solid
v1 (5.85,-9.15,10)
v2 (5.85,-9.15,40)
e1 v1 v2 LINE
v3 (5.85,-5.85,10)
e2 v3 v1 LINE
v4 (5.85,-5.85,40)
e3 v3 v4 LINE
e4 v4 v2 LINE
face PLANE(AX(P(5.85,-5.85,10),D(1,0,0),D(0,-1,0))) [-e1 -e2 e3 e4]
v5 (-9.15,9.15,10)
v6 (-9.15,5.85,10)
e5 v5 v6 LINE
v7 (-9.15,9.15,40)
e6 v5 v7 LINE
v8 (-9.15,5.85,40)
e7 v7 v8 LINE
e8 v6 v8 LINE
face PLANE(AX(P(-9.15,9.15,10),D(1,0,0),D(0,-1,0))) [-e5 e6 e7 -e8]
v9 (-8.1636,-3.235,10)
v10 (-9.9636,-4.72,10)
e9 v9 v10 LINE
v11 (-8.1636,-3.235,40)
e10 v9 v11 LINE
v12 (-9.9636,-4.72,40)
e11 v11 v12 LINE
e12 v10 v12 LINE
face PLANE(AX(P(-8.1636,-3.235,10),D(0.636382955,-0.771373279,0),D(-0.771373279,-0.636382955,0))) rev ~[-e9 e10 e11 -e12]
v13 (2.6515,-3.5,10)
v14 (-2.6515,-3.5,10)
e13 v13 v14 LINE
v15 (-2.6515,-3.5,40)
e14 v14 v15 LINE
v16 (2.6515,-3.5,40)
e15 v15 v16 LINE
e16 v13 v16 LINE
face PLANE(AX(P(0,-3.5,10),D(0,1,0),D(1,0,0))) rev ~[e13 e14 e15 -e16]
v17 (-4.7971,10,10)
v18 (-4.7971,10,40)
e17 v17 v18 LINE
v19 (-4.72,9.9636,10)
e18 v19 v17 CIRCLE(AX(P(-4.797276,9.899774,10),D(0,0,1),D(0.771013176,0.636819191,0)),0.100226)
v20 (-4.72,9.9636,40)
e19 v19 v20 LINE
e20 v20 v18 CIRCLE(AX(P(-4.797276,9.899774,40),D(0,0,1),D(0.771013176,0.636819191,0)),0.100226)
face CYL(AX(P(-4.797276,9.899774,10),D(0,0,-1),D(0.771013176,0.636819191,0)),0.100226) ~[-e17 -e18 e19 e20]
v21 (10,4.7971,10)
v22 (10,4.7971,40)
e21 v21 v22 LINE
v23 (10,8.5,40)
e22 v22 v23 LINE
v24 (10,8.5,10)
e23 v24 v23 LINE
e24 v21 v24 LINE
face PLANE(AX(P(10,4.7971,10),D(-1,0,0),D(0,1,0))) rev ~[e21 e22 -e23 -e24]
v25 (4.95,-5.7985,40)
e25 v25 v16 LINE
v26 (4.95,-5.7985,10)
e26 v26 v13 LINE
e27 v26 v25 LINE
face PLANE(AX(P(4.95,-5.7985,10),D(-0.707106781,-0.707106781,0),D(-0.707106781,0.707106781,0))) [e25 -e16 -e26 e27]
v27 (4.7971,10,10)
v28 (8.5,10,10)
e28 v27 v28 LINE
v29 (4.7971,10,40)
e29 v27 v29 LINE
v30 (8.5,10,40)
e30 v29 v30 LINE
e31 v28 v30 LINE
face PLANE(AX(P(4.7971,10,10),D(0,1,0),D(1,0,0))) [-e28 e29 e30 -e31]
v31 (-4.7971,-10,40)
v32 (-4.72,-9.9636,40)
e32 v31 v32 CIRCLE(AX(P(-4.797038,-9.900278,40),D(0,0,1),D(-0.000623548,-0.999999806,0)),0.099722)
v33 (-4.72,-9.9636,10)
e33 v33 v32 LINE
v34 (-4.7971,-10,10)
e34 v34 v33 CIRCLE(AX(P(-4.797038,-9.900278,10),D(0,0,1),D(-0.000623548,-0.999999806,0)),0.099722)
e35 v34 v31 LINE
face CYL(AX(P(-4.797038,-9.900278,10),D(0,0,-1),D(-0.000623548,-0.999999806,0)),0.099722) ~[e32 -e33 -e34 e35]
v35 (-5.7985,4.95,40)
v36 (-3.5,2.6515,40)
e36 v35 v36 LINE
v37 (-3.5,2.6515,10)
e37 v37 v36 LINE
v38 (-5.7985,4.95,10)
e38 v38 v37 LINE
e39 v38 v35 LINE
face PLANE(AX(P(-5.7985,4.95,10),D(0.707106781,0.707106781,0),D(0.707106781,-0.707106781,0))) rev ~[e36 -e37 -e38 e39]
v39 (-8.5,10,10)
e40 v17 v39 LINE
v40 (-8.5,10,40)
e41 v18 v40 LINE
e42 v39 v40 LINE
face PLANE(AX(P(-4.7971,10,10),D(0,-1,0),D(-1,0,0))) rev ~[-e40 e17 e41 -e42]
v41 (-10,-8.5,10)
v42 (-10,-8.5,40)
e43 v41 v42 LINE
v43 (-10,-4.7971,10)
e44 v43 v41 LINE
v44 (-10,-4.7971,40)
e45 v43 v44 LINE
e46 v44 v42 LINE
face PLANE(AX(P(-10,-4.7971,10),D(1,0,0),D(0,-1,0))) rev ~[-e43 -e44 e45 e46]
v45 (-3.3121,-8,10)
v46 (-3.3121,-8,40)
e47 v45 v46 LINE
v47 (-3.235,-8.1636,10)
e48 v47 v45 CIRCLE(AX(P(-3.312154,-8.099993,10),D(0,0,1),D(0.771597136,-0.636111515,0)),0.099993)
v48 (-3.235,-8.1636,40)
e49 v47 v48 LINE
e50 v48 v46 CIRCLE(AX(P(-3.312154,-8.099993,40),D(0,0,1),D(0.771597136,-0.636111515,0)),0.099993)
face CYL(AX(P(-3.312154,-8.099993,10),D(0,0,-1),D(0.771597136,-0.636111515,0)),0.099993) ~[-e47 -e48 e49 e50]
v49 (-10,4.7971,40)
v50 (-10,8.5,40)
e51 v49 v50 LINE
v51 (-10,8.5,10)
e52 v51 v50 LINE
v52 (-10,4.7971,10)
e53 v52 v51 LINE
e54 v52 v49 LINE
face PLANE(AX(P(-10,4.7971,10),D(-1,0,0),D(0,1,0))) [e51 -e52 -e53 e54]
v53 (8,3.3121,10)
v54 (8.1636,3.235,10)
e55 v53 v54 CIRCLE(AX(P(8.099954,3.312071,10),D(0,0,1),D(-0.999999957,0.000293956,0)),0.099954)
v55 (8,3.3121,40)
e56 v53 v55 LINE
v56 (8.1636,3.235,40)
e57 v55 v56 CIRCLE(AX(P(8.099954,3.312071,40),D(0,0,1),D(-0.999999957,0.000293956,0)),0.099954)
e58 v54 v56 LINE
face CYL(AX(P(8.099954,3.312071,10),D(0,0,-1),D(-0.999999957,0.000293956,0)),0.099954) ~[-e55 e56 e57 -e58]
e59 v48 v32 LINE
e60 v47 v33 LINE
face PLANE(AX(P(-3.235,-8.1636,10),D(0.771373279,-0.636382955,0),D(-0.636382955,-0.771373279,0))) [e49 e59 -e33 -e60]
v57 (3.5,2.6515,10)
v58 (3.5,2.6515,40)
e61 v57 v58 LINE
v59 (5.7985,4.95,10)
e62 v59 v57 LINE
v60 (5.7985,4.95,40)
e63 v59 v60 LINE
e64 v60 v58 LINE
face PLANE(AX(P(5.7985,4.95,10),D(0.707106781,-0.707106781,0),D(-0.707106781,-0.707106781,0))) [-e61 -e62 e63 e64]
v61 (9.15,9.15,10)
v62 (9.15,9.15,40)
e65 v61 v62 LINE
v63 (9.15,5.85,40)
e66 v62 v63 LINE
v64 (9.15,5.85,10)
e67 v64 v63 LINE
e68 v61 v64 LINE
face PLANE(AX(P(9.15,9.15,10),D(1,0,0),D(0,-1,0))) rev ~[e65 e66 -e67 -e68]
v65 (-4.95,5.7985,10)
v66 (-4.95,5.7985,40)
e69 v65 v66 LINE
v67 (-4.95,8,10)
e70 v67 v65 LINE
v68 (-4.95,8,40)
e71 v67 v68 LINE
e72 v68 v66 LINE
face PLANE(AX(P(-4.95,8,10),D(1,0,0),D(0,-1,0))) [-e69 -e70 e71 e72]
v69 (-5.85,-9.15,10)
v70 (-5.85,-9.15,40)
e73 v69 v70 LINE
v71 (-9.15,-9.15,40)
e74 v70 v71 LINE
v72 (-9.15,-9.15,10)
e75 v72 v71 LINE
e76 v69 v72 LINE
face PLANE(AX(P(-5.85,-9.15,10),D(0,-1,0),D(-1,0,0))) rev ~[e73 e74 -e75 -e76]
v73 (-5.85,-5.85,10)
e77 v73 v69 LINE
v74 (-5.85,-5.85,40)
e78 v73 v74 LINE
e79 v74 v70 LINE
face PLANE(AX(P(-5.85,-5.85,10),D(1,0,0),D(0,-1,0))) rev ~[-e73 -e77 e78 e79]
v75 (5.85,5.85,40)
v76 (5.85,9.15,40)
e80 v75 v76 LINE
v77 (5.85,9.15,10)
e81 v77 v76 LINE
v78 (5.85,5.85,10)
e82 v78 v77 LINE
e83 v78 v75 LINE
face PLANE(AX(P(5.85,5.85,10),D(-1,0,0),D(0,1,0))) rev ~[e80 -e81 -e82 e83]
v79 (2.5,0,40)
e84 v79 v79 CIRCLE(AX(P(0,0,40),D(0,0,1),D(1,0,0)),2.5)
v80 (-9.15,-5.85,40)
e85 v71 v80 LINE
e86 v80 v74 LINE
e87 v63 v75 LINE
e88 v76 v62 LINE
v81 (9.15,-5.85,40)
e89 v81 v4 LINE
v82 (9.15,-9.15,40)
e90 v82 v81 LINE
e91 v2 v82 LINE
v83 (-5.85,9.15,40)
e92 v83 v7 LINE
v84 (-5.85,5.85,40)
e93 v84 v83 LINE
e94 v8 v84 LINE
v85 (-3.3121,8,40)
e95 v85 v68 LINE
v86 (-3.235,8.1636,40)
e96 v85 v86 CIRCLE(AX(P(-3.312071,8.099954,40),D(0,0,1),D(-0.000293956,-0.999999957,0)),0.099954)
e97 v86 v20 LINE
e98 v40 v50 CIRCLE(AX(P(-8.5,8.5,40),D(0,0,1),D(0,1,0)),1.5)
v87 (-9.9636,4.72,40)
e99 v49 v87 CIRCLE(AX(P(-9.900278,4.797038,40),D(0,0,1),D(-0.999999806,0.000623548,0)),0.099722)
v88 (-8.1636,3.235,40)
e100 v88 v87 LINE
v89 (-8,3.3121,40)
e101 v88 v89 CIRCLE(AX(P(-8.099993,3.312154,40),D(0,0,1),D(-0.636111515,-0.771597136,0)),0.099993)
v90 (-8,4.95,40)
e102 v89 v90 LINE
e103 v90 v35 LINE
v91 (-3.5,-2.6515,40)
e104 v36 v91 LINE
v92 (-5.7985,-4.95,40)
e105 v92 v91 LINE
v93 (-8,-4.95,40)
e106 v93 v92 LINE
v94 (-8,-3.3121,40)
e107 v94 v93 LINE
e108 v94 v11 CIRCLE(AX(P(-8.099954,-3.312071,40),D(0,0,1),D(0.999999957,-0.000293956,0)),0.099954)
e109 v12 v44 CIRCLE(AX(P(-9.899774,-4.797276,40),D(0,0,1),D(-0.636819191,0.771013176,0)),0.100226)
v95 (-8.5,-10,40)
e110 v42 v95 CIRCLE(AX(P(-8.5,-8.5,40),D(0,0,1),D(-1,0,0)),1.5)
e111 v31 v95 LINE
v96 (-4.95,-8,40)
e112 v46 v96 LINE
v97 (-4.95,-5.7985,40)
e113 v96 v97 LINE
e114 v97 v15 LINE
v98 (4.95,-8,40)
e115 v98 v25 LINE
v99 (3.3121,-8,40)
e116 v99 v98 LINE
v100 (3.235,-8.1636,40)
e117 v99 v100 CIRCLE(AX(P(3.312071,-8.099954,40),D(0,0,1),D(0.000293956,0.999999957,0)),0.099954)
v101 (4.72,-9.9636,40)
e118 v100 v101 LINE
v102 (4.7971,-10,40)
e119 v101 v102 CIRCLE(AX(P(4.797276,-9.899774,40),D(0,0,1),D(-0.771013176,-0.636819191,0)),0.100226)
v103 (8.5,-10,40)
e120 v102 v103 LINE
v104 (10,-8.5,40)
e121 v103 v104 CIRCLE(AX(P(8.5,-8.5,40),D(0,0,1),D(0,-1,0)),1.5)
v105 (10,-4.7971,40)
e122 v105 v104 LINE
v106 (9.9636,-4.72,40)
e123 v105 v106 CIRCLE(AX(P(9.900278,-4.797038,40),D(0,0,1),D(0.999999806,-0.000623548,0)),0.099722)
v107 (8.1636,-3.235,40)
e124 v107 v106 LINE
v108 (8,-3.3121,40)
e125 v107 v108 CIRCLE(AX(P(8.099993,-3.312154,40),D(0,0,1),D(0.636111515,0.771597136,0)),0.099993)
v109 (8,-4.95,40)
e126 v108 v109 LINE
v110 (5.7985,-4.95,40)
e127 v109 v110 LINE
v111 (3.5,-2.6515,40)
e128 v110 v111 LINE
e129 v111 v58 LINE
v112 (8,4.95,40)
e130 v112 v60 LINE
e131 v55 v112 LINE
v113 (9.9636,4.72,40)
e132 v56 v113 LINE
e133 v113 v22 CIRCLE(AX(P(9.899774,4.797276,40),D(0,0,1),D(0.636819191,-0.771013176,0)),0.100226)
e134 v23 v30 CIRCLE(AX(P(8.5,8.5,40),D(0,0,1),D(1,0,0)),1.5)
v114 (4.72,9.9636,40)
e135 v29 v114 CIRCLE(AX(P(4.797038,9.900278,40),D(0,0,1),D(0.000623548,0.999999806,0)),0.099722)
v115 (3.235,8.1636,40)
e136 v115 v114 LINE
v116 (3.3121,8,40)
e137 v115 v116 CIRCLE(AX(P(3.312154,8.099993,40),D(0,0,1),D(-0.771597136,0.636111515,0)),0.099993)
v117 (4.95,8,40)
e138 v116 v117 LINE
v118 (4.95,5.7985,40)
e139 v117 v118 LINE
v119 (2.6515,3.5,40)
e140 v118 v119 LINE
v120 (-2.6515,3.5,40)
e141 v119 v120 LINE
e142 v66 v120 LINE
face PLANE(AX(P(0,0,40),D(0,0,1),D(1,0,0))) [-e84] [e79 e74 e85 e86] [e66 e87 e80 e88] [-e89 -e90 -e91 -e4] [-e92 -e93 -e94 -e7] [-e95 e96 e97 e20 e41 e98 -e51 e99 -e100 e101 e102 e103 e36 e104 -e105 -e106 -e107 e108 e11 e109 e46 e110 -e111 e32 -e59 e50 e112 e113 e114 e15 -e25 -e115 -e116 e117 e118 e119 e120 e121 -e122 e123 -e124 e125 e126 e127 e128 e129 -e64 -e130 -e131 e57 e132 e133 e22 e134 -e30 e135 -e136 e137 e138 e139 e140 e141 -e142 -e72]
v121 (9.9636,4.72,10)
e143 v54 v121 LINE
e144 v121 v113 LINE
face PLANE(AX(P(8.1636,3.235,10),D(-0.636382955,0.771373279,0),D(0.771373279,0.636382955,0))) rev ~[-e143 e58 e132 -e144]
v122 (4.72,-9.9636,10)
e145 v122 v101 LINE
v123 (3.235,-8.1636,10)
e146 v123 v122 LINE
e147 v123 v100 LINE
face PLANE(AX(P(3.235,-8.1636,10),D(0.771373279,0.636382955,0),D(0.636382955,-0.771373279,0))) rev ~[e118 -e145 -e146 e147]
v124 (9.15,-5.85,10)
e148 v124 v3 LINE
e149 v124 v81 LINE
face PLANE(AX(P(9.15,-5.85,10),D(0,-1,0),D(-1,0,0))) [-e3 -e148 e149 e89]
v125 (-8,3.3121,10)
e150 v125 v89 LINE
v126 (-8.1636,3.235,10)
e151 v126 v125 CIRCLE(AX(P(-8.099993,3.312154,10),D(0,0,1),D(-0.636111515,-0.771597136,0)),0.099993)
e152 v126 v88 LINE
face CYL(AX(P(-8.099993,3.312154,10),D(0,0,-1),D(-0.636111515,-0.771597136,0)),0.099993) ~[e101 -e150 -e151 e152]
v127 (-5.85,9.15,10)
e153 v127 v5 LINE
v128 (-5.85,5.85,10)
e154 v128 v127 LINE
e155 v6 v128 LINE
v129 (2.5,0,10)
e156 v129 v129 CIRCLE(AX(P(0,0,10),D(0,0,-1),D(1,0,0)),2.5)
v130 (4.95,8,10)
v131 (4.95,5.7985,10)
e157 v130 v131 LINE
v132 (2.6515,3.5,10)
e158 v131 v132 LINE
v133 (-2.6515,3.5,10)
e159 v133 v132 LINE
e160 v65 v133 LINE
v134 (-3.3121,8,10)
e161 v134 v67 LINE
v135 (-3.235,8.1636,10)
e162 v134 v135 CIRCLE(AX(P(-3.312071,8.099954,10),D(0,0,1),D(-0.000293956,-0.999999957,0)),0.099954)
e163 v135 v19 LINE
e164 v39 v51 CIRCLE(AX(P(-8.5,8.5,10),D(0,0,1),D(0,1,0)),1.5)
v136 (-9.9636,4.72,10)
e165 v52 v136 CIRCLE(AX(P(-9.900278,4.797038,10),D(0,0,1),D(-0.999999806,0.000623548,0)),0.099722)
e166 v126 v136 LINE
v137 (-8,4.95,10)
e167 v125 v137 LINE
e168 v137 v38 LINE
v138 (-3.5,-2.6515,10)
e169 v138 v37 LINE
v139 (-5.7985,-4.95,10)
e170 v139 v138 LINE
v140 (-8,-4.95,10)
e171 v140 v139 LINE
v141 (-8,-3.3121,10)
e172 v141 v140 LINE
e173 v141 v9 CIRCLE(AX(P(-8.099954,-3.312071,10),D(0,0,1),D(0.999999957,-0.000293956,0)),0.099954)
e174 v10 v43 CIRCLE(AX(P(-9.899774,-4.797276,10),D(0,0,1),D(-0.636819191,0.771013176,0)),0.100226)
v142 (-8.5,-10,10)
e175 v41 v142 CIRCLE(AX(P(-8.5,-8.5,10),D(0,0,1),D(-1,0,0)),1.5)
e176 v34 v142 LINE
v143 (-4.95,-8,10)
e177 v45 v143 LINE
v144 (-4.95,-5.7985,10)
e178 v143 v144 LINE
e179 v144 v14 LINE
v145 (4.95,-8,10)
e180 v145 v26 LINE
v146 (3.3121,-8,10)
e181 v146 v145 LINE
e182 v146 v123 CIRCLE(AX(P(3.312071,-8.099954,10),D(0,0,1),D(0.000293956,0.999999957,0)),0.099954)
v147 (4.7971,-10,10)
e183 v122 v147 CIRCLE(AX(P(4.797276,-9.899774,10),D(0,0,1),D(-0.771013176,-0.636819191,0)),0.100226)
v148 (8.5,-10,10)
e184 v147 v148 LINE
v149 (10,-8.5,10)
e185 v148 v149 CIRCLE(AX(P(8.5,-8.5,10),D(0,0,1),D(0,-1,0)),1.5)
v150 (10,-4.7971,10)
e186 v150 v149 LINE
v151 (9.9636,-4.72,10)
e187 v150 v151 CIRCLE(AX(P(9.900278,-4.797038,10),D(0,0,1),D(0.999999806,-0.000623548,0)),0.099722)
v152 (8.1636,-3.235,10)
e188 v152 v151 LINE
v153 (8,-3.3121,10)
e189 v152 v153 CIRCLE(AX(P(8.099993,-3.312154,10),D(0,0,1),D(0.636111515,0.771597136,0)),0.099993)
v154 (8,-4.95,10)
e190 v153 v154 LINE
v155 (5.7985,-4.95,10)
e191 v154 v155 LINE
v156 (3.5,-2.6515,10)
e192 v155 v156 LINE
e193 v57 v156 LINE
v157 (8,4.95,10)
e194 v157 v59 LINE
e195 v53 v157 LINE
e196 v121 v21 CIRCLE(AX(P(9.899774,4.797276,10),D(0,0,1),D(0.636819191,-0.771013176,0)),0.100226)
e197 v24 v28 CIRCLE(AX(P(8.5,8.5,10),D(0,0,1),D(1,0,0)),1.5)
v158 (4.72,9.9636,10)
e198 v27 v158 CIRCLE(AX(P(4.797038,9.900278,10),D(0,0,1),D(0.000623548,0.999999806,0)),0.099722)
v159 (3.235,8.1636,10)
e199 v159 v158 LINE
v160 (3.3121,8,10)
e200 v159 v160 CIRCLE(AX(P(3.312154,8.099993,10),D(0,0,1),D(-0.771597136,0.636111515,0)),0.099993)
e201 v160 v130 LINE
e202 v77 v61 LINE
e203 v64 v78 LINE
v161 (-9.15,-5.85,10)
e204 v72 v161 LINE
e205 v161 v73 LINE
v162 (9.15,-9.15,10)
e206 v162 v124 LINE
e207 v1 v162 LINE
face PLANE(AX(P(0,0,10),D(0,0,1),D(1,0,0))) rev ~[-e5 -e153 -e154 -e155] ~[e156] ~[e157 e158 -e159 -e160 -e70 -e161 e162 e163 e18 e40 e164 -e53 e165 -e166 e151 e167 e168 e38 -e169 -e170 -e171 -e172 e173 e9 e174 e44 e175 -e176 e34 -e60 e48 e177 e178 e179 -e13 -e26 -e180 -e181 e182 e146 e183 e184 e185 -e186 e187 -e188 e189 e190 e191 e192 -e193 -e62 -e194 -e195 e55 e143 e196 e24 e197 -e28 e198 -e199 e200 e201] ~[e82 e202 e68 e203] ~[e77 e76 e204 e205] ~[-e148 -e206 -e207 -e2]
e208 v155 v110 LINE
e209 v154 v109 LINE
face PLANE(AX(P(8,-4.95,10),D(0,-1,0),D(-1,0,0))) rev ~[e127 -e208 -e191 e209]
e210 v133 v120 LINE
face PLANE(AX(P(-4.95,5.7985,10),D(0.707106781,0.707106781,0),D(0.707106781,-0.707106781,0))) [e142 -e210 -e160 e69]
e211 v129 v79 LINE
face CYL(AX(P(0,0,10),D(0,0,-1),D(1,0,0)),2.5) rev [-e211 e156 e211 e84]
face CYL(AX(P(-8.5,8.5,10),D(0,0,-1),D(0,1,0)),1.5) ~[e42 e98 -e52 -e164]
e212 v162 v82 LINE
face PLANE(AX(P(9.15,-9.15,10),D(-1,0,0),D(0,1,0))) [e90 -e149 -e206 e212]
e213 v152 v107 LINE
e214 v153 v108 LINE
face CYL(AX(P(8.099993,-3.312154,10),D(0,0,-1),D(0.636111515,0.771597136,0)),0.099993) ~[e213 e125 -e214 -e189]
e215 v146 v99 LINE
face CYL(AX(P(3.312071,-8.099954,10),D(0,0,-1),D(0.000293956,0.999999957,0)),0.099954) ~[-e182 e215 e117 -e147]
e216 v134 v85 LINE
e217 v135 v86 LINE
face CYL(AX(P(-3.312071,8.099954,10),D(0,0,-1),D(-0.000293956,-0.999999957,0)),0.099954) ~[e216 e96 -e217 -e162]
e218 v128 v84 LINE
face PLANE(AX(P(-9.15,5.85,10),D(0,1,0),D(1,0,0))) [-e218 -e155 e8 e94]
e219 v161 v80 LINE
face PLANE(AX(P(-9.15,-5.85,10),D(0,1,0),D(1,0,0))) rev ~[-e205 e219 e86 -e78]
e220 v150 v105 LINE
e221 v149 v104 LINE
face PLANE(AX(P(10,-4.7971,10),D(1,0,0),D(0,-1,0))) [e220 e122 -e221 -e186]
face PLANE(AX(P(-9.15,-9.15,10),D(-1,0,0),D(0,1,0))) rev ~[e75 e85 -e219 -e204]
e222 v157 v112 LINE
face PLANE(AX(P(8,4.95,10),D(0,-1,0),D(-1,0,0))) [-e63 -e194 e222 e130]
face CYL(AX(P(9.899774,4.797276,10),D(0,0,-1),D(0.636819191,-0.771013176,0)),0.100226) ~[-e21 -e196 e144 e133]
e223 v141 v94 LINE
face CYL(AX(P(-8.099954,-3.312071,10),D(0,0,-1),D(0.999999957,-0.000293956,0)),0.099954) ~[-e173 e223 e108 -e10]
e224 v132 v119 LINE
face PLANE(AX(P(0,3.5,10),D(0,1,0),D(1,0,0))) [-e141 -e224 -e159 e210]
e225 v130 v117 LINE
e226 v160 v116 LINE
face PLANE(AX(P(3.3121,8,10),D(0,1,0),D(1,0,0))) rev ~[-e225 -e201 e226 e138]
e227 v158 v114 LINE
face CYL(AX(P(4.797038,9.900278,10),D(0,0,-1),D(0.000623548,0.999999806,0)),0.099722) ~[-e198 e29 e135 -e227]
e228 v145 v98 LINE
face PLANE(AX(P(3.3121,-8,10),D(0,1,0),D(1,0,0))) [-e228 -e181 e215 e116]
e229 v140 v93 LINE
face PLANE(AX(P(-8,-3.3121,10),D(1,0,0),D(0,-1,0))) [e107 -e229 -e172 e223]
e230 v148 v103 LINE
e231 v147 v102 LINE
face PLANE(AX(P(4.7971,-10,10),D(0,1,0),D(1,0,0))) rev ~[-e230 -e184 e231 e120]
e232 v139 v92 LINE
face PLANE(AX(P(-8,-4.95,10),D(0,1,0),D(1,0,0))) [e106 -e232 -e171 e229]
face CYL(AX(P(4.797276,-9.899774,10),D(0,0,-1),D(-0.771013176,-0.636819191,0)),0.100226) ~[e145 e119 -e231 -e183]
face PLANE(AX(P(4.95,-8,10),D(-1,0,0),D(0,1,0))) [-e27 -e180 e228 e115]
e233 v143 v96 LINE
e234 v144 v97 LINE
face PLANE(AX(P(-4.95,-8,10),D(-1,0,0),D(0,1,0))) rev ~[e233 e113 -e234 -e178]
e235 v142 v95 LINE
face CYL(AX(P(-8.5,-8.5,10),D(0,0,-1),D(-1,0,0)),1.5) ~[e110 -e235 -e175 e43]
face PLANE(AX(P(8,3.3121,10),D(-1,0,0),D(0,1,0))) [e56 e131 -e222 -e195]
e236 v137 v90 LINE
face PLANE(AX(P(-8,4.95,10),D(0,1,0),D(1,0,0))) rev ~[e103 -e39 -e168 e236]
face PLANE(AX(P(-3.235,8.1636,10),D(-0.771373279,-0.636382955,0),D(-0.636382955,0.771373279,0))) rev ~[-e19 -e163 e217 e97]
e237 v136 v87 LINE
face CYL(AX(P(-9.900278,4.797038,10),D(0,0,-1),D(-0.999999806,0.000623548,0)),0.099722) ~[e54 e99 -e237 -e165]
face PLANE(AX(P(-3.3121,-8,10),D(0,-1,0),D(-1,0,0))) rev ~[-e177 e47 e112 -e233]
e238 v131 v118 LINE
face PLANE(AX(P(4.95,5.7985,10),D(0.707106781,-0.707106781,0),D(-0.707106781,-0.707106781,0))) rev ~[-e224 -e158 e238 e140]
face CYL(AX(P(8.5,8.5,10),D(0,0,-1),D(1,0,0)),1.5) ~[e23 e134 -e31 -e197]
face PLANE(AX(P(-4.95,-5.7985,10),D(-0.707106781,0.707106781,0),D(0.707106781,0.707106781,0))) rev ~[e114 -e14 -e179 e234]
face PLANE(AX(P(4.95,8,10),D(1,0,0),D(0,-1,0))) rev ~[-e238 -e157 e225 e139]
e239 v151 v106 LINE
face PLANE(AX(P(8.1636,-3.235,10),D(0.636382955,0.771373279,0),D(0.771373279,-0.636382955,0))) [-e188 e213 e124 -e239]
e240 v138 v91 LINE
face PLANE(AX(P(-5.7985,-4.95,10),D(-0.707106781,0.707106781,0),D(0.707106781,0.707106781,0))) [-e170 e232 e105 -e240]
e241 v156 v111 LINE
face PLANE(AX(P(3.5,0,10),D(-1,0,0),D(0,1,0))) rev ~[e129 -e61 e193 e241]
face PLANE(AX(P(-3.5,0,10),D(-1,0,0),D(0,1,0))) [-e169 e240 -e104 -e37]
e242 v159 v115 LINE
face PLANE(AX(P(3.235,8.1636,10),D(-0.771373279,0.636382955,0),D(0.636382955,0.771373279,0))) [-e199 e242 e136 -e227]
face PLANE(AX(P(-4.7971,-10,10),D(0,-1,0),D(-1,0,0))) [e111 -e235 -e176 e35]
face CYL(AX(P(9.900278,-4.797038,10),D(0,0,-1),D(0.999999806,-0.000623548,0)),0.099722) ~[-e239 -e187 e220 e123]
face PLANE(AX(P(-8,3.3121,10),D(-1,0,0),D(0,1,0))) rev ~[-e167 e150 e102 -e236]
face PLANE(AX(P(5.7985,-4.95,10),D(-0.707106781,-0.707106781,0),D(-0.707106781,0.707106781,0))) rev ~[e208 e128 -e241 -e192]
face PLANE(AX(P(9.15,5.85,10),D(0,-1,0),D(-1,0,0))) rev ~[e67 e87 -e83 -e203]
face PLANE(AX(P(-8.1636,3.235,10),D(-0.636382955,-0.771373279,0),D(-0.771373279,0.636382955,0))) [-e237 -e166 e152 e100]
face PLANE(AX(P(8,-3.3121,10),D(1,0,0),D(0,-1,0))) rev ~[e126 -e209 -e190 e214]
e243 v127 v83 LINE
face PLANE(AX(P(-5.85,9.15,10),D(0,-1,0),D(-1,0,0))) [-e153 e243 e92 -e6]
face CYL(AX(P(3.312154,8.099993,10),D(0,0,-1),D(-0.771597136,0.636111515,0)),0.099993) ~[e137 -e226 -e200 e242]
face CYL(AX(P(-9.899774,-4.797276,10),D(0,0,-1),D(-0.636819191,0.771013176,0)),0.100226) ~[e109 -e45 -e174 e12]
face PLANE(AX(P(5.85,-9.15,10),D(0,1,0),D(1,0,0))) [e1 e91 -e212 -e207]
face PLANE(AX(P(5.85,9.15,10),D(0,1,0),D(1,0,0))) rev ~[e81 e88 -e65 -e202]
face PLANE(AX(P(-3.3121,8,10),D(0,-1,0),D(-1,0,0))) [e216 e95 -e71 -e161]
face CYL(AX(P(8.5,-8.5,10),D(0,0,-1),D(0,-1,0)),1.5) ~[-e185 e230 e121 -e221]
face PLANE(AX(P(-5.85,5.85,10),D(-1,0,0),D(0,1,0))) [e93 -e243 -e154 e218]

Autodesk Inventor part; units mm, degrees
ref_plane "Начальная плоскость" through (0, 0, 10) normal (0, 0, 1) x (1, 0, 0)
ref_plane "Конечная плоскость" through (0, 0, 40) normal (0, 0, 1) x (1, 0, 0)
sketch "Эскиз" plane through (0, 0, 0) normal (0, 0, 1) x (1, 0, 0)
  line L0 (-14.4349, 0) -> (14.4349, 0) projected
  line L1 (0, -14) -> (0, 14) projected
  line L2 (0, 0) -> (7.5, 7.5) construction
  circle A0 centre (7.5, 7.5) radius 1.65 construction
  line L3 (5.85, 9.15) -> (9.15, 9.15)
  line L4 (9.15, 9.15) -> (9.15, 5.85)
  line L5 (9.15, 5.85) -> (5.85, 5.85)
  line L6 (5.85, 5.85) -> (5.85, 9.15)
  line L7 (3.235, 8.1636) -> (4.72, 9.9636)
  line L8 (4.7971, 10) -> (8.5, 10)
  line L9 (3.3121, 8) -> (4.95, 8)
  line L10 (4.95, 8) -> (4.95, 5.7985)
  line L11 (4.95, 5.7985) -> (2.6515, 3.5)
  line L12 (0, 3.5) -> (2.6515, 3.5)
  circle A1 centre (0, 0) radius 2.5
  line L13 (8.1636, 3.235) -> (9.9636, 4.72)
  line L14 (10, 4.7971) -> (10, 8.5)
  line L15 (8, 3.3121) -> (8, 4.95)
  line L16 (8, 4.95) -> (5.7985, 4.95)
  line L17 (5.7985, 4.95) -> (3.5, 2.6515)
  line L18 (3.5, 0) -> (3.5, 2.6515)
  arc A2 (10, 8.5) -> (8.5, 10) centre (8.5, 8.5) ccw
  line L19 (0, 0) -> (-7.5, 7.5) construction
  circle A3 centre (-7.5, 7.5) radius 1.65 construction
  line L20 (-5.85, 9.15) -> (-9.15, 9.15)
  line L21 (-9.15, 9.15) -> (-9.15, 5.85)
  line L22 (-9.15, 5.85) -> (-5.85, 5.85)
  line L23 (-5.85, 5.85) -> (-5.85, 9.15)
  line L24 (-3.235, 8.1636) -> (-4.72, 9.9636)
  line L25 (-4.7971, 10) -> (-8.5, 10)
  line L26 (-3.3121, 8) -> (-4.95, 8)
  line L27 (-4.95, 8) -> (-4.95, 5.7985)
  line L28 (-4.95, 5.7985) -> (-2.6515, 3.5)
  line L29 (0, 3.5) -> (-2.6515, 3.5)
  line L30 (-3.5, 0) -> (-3.5, 2.6515)
  line L31 (-5.7985, 4.95) -> (-3.5, 2.6515)
  line L32 (-8, 4.95) -> (-5.7985, 4.95)
  line L33 (-8, 3.3121) -> (-8, 4.95)
  line L34 (-8.1636, 3.235) -> (-9.9636, 4.72)
  line L35 (-10, 4.7971) -> (-10, 8.5)
  arc A4 (-8.5, 10) -> (-10, 8.5) centre (-8.5, 8.5) ccw
  line L36 (0, 14) -> (0, -14)
  line L37 (0, 0) -> (7.5, -7.5) construction
  circle A5 centre (7.5, -7.5) radius 1.65 construction
  line L38 (5.85, -9.15) -> (9.15, -9.15)
  line L39 (9.15, -9.15) -> (9.15, -5.85)
  line L40 (9.15, -5.85) -> (5.85, -5.85)
  line L41 (5.85, -5.85) -> (5.85, -9.15)
  line L42 (3.235, -8.1636) -> (4.72, -9.9636)
  line L43 (4.7971, -10) -> (8.5, -10)
  line L44 (3.3121, -8) -> (4.95, -8)
  line L45 (4.95, -8) -> (4.95, -5.7985)
  line L46 (4.95, -5.7985) -> (2.6515, -3.5)
  line L47 (0, -3.5) -> (2.6515, -3.5)
  line L48 (3.5, 0) -> (3.5, -2.6515)
  line L49 (5.7985, -4.95) -> (3.5, -2.6515)
  line L50 (8, -4.95) -> (5.7985, -4.95)
  line L51 (8, -3.3121) -> (8, -4.95)
  line L52 (8.1636, -3.235) -> (9.9636, -4.72)
  line L53 (10, -4.7971) -> (10, -8.5)
  arc A6 (8.5, -10) -> (10, -8.5) centre (8.5, -8.5) ccw
  line L54 (0, 0) -> (-7.5, -7.5) construction
  line L55 (-4.95, -8) -> (-4.95, -5.7985)
  line L56 (-3.3121, -8) -> (-4.95, -8)
  line L57 (-5.7985, -4.95) -> (-3.5, -2.6515)
  line L58 (-4.95, -5.7985) -> (-2.6515, -3.5)
  line L59 (-3.5, 0) -> (-3.5, -2.6515)
  line L60 (0, -3.5) -> (-2.6515, -3.5)
  circle A7 centre (-7.5, -7.5) radius 1.65 construction
  line L61 (-5.85, -5.85) -> (-5.85, -9.15)
  line L62 (-5.85, -9.15) -> (-9.15, -9.15)
  line L63 (-9.15, -9.15) -> (-9.15, -5.85)
  line L64 (-9.15, -5.85) -> (-5.85, -5.85)
  line L65 (-3.235, -8.1636) -> (-4.72, -9.9636)
  line L66 (-8, -4.95) -> (-5.7985, -4.95)
  line L67 (-8, -3.3121) -> (-8, -4.95)
  line L68 (-8.1636, -3.235) -> (-9.9636, -4.72)
  line L69 (-4.7971, -10) -> (-8.5, -10)
  line L70 (-10, -4.7971) -> (-10, -8.5)
  arc A8 (-10, -8.5) -> (-8.5, -10) centre (-8.5, -8.5) ccw
  arc A9 (3.235, 8.1636) -> (3.3121, 8) centre (3.3121, 8.1) ccw
  arc A10 (4.7971, 10) -> (4.72, 9.9636) centre (4.7971, 9.9) ccw
  arc A11 (8, 3.3121) -> (8.1636, 3.235) centre (8.1, 3.3121) ccw
  arc A12 (9.9636, 4.72) -> (10, 4.7971) centre (9.9, 4.7971) ccw
  arc A13 (-3.3121, 8) -> (-3.235, 8.1636) centre (-3.3121, 8.1) ccw
  arc A14 (-4.72, 9.9636) -> (-4.7971, 10) centre (-4.7971, 9.9) ccw
  arc A15 (-8.1636, 3.235) -> (-8, 3.3121) centre (-8.1, 3.3121) ccw
  arc A16 (-10, 4.7971) -> (-9.9636, 4.72) centre (-9.9, 4.7971) ccw
  arc A17 (-8, -3.3121) -> (-8.1636, -3.235) centre (-8.1, -3.3121) ccw
  arc A18 (-9.9636, -4.72) -> (-10, -4.7971) centre (-9.9, -4.7971) ccw
  arc A19 (-3.235, -8.1636) -> (-3.3121, -8) centre (-3.3121, -8.1) ccw
  arc A20 (-4.7971, -10) -> (-4.72, -9.9636) centre (-4.7971, -9.9) ccw
  arc A21 (4.72, -9.9636) -> (4.7971, -10) centre (4.7971, -9.9) ccw
  arc A22 (3.3121, -8) -> (3.235, -8.1636) centre (3.3121, -8.1) ccw
  arc A23 (8.1636, -3.235) -> (8, -3.3121) centre (8.1, -3.3121) ccw
  arc A24 (10, -4.7971) -> (9.9636, -4.72) centre (9.9, -4.7971) ccw
  point P0 (3.1, 8)
  point P1 (4.75, 10)
  point P2 (7.5, 9.15)
  point P3 (8, 3.1)
  point P4 (10, 4.75)
  point P5 (7.5, 5.85)
  point P6 (9.15, 7.5)
  point P7 (-3.1, 8)
  point P8 (-4.75, 10)
  point P9 (-7.5, 9.15)
  point P10 (-8, 3.1)
  point P11 (-10, 4.75)
  point P12 (-7.5, 5.85)
  point P13 (-9.15, 7.5)
  point P14 (3.1, -8)
  point P15 (4.75, -10)
  point P16 (7.5, -9.15)
  point P17 (8, -3.1)
  point P18 (10, -4.75)
  point P19 (7.5, -5.85)
  point P20 (9.15, -7.5)
  point P21 (-3.1, -8)
  point P22 (-7.5, -5.85)
  point P23 (-7.5, -9.15)
  point P24 (-9.15, -7.5)
  point P25 (-4.75, -10)
  point P26 (-8, -3.1)
  point P27 (-10, -4.75)
  dimension "d0" = 45
  dimension "d1" = 3.3
  dimension "d2" = 1.5
  dimension "d3" = 1.2
  dimension "d4" = 5
  dimension "d5" = 6.5
  dimension "d6" = 15
  dimension "d7" = 20
  dimension "d8" = 9.9
  dimension "d9" = 9.5
  dimension "d10" = 6.2
  dimension "d11" = 2
  dimension "d18" = 0.1
  dimension "d19" = 0.1
extrude "Тело" add sketch "Эскиз" along normal up to surface (30 mm away) from surface at 10 contours A1 L1 L12 L11 L10 L9 A9 L7 A10 L8 A2 L14 A12 L13 A11 L15 L16 L17 L18 L0 | L0 L48 L49 L50 L51 A23 L52 A24 L53 A6 L43 A21 L42 A22 L44 L45 L46 L47 L1 A1 | A1 L0 L30 L31 L32 L33 A15 L34 A16 L35 A4 L25 A14 L24 A13 L26 L27 L28 L29 L1 | L1 L60 L58 L55 L56 A19 L65 A20 L69 A8 L70 A18 L68 A17 L67 L66 L57 L59 L0 A1
sketch "Эскиз2" plane through (0, 0, 0) normal (0, 0, 1) x (1, 0, 0)
  line L0 (0, 0) -> (10, 0)
ref_plane "РабПлоскость3" through (0, 0, 0) normal (0, -1, 0) x (1, 0, 0)
sketch "Эскиз3" plane through (0, 0, 0) normal (0, -1, 0) x (1, 0, 0)
  line L0 (-2, 10) -> (12, 10)
  line L1 (-2, 40) -> (12, 40)
  dimension "d25" = 30
ref_plane "РабПлоскость7" through (300, 0, 10) normal (0, 0, -1) x (-1, 0, 0)
split "Разделение4" plane through (300, 0, 10) removes the side toward (0, 0, -1)
ref_plane "РабПлоскость8" through (-10, 0, 40) normal (0, 0, 1) x (1, 0, 0)
split "Разделение5" plane through (-10, 0, 40) removes the side toward (0, 0, 1)
properties part number "короткая палка"
